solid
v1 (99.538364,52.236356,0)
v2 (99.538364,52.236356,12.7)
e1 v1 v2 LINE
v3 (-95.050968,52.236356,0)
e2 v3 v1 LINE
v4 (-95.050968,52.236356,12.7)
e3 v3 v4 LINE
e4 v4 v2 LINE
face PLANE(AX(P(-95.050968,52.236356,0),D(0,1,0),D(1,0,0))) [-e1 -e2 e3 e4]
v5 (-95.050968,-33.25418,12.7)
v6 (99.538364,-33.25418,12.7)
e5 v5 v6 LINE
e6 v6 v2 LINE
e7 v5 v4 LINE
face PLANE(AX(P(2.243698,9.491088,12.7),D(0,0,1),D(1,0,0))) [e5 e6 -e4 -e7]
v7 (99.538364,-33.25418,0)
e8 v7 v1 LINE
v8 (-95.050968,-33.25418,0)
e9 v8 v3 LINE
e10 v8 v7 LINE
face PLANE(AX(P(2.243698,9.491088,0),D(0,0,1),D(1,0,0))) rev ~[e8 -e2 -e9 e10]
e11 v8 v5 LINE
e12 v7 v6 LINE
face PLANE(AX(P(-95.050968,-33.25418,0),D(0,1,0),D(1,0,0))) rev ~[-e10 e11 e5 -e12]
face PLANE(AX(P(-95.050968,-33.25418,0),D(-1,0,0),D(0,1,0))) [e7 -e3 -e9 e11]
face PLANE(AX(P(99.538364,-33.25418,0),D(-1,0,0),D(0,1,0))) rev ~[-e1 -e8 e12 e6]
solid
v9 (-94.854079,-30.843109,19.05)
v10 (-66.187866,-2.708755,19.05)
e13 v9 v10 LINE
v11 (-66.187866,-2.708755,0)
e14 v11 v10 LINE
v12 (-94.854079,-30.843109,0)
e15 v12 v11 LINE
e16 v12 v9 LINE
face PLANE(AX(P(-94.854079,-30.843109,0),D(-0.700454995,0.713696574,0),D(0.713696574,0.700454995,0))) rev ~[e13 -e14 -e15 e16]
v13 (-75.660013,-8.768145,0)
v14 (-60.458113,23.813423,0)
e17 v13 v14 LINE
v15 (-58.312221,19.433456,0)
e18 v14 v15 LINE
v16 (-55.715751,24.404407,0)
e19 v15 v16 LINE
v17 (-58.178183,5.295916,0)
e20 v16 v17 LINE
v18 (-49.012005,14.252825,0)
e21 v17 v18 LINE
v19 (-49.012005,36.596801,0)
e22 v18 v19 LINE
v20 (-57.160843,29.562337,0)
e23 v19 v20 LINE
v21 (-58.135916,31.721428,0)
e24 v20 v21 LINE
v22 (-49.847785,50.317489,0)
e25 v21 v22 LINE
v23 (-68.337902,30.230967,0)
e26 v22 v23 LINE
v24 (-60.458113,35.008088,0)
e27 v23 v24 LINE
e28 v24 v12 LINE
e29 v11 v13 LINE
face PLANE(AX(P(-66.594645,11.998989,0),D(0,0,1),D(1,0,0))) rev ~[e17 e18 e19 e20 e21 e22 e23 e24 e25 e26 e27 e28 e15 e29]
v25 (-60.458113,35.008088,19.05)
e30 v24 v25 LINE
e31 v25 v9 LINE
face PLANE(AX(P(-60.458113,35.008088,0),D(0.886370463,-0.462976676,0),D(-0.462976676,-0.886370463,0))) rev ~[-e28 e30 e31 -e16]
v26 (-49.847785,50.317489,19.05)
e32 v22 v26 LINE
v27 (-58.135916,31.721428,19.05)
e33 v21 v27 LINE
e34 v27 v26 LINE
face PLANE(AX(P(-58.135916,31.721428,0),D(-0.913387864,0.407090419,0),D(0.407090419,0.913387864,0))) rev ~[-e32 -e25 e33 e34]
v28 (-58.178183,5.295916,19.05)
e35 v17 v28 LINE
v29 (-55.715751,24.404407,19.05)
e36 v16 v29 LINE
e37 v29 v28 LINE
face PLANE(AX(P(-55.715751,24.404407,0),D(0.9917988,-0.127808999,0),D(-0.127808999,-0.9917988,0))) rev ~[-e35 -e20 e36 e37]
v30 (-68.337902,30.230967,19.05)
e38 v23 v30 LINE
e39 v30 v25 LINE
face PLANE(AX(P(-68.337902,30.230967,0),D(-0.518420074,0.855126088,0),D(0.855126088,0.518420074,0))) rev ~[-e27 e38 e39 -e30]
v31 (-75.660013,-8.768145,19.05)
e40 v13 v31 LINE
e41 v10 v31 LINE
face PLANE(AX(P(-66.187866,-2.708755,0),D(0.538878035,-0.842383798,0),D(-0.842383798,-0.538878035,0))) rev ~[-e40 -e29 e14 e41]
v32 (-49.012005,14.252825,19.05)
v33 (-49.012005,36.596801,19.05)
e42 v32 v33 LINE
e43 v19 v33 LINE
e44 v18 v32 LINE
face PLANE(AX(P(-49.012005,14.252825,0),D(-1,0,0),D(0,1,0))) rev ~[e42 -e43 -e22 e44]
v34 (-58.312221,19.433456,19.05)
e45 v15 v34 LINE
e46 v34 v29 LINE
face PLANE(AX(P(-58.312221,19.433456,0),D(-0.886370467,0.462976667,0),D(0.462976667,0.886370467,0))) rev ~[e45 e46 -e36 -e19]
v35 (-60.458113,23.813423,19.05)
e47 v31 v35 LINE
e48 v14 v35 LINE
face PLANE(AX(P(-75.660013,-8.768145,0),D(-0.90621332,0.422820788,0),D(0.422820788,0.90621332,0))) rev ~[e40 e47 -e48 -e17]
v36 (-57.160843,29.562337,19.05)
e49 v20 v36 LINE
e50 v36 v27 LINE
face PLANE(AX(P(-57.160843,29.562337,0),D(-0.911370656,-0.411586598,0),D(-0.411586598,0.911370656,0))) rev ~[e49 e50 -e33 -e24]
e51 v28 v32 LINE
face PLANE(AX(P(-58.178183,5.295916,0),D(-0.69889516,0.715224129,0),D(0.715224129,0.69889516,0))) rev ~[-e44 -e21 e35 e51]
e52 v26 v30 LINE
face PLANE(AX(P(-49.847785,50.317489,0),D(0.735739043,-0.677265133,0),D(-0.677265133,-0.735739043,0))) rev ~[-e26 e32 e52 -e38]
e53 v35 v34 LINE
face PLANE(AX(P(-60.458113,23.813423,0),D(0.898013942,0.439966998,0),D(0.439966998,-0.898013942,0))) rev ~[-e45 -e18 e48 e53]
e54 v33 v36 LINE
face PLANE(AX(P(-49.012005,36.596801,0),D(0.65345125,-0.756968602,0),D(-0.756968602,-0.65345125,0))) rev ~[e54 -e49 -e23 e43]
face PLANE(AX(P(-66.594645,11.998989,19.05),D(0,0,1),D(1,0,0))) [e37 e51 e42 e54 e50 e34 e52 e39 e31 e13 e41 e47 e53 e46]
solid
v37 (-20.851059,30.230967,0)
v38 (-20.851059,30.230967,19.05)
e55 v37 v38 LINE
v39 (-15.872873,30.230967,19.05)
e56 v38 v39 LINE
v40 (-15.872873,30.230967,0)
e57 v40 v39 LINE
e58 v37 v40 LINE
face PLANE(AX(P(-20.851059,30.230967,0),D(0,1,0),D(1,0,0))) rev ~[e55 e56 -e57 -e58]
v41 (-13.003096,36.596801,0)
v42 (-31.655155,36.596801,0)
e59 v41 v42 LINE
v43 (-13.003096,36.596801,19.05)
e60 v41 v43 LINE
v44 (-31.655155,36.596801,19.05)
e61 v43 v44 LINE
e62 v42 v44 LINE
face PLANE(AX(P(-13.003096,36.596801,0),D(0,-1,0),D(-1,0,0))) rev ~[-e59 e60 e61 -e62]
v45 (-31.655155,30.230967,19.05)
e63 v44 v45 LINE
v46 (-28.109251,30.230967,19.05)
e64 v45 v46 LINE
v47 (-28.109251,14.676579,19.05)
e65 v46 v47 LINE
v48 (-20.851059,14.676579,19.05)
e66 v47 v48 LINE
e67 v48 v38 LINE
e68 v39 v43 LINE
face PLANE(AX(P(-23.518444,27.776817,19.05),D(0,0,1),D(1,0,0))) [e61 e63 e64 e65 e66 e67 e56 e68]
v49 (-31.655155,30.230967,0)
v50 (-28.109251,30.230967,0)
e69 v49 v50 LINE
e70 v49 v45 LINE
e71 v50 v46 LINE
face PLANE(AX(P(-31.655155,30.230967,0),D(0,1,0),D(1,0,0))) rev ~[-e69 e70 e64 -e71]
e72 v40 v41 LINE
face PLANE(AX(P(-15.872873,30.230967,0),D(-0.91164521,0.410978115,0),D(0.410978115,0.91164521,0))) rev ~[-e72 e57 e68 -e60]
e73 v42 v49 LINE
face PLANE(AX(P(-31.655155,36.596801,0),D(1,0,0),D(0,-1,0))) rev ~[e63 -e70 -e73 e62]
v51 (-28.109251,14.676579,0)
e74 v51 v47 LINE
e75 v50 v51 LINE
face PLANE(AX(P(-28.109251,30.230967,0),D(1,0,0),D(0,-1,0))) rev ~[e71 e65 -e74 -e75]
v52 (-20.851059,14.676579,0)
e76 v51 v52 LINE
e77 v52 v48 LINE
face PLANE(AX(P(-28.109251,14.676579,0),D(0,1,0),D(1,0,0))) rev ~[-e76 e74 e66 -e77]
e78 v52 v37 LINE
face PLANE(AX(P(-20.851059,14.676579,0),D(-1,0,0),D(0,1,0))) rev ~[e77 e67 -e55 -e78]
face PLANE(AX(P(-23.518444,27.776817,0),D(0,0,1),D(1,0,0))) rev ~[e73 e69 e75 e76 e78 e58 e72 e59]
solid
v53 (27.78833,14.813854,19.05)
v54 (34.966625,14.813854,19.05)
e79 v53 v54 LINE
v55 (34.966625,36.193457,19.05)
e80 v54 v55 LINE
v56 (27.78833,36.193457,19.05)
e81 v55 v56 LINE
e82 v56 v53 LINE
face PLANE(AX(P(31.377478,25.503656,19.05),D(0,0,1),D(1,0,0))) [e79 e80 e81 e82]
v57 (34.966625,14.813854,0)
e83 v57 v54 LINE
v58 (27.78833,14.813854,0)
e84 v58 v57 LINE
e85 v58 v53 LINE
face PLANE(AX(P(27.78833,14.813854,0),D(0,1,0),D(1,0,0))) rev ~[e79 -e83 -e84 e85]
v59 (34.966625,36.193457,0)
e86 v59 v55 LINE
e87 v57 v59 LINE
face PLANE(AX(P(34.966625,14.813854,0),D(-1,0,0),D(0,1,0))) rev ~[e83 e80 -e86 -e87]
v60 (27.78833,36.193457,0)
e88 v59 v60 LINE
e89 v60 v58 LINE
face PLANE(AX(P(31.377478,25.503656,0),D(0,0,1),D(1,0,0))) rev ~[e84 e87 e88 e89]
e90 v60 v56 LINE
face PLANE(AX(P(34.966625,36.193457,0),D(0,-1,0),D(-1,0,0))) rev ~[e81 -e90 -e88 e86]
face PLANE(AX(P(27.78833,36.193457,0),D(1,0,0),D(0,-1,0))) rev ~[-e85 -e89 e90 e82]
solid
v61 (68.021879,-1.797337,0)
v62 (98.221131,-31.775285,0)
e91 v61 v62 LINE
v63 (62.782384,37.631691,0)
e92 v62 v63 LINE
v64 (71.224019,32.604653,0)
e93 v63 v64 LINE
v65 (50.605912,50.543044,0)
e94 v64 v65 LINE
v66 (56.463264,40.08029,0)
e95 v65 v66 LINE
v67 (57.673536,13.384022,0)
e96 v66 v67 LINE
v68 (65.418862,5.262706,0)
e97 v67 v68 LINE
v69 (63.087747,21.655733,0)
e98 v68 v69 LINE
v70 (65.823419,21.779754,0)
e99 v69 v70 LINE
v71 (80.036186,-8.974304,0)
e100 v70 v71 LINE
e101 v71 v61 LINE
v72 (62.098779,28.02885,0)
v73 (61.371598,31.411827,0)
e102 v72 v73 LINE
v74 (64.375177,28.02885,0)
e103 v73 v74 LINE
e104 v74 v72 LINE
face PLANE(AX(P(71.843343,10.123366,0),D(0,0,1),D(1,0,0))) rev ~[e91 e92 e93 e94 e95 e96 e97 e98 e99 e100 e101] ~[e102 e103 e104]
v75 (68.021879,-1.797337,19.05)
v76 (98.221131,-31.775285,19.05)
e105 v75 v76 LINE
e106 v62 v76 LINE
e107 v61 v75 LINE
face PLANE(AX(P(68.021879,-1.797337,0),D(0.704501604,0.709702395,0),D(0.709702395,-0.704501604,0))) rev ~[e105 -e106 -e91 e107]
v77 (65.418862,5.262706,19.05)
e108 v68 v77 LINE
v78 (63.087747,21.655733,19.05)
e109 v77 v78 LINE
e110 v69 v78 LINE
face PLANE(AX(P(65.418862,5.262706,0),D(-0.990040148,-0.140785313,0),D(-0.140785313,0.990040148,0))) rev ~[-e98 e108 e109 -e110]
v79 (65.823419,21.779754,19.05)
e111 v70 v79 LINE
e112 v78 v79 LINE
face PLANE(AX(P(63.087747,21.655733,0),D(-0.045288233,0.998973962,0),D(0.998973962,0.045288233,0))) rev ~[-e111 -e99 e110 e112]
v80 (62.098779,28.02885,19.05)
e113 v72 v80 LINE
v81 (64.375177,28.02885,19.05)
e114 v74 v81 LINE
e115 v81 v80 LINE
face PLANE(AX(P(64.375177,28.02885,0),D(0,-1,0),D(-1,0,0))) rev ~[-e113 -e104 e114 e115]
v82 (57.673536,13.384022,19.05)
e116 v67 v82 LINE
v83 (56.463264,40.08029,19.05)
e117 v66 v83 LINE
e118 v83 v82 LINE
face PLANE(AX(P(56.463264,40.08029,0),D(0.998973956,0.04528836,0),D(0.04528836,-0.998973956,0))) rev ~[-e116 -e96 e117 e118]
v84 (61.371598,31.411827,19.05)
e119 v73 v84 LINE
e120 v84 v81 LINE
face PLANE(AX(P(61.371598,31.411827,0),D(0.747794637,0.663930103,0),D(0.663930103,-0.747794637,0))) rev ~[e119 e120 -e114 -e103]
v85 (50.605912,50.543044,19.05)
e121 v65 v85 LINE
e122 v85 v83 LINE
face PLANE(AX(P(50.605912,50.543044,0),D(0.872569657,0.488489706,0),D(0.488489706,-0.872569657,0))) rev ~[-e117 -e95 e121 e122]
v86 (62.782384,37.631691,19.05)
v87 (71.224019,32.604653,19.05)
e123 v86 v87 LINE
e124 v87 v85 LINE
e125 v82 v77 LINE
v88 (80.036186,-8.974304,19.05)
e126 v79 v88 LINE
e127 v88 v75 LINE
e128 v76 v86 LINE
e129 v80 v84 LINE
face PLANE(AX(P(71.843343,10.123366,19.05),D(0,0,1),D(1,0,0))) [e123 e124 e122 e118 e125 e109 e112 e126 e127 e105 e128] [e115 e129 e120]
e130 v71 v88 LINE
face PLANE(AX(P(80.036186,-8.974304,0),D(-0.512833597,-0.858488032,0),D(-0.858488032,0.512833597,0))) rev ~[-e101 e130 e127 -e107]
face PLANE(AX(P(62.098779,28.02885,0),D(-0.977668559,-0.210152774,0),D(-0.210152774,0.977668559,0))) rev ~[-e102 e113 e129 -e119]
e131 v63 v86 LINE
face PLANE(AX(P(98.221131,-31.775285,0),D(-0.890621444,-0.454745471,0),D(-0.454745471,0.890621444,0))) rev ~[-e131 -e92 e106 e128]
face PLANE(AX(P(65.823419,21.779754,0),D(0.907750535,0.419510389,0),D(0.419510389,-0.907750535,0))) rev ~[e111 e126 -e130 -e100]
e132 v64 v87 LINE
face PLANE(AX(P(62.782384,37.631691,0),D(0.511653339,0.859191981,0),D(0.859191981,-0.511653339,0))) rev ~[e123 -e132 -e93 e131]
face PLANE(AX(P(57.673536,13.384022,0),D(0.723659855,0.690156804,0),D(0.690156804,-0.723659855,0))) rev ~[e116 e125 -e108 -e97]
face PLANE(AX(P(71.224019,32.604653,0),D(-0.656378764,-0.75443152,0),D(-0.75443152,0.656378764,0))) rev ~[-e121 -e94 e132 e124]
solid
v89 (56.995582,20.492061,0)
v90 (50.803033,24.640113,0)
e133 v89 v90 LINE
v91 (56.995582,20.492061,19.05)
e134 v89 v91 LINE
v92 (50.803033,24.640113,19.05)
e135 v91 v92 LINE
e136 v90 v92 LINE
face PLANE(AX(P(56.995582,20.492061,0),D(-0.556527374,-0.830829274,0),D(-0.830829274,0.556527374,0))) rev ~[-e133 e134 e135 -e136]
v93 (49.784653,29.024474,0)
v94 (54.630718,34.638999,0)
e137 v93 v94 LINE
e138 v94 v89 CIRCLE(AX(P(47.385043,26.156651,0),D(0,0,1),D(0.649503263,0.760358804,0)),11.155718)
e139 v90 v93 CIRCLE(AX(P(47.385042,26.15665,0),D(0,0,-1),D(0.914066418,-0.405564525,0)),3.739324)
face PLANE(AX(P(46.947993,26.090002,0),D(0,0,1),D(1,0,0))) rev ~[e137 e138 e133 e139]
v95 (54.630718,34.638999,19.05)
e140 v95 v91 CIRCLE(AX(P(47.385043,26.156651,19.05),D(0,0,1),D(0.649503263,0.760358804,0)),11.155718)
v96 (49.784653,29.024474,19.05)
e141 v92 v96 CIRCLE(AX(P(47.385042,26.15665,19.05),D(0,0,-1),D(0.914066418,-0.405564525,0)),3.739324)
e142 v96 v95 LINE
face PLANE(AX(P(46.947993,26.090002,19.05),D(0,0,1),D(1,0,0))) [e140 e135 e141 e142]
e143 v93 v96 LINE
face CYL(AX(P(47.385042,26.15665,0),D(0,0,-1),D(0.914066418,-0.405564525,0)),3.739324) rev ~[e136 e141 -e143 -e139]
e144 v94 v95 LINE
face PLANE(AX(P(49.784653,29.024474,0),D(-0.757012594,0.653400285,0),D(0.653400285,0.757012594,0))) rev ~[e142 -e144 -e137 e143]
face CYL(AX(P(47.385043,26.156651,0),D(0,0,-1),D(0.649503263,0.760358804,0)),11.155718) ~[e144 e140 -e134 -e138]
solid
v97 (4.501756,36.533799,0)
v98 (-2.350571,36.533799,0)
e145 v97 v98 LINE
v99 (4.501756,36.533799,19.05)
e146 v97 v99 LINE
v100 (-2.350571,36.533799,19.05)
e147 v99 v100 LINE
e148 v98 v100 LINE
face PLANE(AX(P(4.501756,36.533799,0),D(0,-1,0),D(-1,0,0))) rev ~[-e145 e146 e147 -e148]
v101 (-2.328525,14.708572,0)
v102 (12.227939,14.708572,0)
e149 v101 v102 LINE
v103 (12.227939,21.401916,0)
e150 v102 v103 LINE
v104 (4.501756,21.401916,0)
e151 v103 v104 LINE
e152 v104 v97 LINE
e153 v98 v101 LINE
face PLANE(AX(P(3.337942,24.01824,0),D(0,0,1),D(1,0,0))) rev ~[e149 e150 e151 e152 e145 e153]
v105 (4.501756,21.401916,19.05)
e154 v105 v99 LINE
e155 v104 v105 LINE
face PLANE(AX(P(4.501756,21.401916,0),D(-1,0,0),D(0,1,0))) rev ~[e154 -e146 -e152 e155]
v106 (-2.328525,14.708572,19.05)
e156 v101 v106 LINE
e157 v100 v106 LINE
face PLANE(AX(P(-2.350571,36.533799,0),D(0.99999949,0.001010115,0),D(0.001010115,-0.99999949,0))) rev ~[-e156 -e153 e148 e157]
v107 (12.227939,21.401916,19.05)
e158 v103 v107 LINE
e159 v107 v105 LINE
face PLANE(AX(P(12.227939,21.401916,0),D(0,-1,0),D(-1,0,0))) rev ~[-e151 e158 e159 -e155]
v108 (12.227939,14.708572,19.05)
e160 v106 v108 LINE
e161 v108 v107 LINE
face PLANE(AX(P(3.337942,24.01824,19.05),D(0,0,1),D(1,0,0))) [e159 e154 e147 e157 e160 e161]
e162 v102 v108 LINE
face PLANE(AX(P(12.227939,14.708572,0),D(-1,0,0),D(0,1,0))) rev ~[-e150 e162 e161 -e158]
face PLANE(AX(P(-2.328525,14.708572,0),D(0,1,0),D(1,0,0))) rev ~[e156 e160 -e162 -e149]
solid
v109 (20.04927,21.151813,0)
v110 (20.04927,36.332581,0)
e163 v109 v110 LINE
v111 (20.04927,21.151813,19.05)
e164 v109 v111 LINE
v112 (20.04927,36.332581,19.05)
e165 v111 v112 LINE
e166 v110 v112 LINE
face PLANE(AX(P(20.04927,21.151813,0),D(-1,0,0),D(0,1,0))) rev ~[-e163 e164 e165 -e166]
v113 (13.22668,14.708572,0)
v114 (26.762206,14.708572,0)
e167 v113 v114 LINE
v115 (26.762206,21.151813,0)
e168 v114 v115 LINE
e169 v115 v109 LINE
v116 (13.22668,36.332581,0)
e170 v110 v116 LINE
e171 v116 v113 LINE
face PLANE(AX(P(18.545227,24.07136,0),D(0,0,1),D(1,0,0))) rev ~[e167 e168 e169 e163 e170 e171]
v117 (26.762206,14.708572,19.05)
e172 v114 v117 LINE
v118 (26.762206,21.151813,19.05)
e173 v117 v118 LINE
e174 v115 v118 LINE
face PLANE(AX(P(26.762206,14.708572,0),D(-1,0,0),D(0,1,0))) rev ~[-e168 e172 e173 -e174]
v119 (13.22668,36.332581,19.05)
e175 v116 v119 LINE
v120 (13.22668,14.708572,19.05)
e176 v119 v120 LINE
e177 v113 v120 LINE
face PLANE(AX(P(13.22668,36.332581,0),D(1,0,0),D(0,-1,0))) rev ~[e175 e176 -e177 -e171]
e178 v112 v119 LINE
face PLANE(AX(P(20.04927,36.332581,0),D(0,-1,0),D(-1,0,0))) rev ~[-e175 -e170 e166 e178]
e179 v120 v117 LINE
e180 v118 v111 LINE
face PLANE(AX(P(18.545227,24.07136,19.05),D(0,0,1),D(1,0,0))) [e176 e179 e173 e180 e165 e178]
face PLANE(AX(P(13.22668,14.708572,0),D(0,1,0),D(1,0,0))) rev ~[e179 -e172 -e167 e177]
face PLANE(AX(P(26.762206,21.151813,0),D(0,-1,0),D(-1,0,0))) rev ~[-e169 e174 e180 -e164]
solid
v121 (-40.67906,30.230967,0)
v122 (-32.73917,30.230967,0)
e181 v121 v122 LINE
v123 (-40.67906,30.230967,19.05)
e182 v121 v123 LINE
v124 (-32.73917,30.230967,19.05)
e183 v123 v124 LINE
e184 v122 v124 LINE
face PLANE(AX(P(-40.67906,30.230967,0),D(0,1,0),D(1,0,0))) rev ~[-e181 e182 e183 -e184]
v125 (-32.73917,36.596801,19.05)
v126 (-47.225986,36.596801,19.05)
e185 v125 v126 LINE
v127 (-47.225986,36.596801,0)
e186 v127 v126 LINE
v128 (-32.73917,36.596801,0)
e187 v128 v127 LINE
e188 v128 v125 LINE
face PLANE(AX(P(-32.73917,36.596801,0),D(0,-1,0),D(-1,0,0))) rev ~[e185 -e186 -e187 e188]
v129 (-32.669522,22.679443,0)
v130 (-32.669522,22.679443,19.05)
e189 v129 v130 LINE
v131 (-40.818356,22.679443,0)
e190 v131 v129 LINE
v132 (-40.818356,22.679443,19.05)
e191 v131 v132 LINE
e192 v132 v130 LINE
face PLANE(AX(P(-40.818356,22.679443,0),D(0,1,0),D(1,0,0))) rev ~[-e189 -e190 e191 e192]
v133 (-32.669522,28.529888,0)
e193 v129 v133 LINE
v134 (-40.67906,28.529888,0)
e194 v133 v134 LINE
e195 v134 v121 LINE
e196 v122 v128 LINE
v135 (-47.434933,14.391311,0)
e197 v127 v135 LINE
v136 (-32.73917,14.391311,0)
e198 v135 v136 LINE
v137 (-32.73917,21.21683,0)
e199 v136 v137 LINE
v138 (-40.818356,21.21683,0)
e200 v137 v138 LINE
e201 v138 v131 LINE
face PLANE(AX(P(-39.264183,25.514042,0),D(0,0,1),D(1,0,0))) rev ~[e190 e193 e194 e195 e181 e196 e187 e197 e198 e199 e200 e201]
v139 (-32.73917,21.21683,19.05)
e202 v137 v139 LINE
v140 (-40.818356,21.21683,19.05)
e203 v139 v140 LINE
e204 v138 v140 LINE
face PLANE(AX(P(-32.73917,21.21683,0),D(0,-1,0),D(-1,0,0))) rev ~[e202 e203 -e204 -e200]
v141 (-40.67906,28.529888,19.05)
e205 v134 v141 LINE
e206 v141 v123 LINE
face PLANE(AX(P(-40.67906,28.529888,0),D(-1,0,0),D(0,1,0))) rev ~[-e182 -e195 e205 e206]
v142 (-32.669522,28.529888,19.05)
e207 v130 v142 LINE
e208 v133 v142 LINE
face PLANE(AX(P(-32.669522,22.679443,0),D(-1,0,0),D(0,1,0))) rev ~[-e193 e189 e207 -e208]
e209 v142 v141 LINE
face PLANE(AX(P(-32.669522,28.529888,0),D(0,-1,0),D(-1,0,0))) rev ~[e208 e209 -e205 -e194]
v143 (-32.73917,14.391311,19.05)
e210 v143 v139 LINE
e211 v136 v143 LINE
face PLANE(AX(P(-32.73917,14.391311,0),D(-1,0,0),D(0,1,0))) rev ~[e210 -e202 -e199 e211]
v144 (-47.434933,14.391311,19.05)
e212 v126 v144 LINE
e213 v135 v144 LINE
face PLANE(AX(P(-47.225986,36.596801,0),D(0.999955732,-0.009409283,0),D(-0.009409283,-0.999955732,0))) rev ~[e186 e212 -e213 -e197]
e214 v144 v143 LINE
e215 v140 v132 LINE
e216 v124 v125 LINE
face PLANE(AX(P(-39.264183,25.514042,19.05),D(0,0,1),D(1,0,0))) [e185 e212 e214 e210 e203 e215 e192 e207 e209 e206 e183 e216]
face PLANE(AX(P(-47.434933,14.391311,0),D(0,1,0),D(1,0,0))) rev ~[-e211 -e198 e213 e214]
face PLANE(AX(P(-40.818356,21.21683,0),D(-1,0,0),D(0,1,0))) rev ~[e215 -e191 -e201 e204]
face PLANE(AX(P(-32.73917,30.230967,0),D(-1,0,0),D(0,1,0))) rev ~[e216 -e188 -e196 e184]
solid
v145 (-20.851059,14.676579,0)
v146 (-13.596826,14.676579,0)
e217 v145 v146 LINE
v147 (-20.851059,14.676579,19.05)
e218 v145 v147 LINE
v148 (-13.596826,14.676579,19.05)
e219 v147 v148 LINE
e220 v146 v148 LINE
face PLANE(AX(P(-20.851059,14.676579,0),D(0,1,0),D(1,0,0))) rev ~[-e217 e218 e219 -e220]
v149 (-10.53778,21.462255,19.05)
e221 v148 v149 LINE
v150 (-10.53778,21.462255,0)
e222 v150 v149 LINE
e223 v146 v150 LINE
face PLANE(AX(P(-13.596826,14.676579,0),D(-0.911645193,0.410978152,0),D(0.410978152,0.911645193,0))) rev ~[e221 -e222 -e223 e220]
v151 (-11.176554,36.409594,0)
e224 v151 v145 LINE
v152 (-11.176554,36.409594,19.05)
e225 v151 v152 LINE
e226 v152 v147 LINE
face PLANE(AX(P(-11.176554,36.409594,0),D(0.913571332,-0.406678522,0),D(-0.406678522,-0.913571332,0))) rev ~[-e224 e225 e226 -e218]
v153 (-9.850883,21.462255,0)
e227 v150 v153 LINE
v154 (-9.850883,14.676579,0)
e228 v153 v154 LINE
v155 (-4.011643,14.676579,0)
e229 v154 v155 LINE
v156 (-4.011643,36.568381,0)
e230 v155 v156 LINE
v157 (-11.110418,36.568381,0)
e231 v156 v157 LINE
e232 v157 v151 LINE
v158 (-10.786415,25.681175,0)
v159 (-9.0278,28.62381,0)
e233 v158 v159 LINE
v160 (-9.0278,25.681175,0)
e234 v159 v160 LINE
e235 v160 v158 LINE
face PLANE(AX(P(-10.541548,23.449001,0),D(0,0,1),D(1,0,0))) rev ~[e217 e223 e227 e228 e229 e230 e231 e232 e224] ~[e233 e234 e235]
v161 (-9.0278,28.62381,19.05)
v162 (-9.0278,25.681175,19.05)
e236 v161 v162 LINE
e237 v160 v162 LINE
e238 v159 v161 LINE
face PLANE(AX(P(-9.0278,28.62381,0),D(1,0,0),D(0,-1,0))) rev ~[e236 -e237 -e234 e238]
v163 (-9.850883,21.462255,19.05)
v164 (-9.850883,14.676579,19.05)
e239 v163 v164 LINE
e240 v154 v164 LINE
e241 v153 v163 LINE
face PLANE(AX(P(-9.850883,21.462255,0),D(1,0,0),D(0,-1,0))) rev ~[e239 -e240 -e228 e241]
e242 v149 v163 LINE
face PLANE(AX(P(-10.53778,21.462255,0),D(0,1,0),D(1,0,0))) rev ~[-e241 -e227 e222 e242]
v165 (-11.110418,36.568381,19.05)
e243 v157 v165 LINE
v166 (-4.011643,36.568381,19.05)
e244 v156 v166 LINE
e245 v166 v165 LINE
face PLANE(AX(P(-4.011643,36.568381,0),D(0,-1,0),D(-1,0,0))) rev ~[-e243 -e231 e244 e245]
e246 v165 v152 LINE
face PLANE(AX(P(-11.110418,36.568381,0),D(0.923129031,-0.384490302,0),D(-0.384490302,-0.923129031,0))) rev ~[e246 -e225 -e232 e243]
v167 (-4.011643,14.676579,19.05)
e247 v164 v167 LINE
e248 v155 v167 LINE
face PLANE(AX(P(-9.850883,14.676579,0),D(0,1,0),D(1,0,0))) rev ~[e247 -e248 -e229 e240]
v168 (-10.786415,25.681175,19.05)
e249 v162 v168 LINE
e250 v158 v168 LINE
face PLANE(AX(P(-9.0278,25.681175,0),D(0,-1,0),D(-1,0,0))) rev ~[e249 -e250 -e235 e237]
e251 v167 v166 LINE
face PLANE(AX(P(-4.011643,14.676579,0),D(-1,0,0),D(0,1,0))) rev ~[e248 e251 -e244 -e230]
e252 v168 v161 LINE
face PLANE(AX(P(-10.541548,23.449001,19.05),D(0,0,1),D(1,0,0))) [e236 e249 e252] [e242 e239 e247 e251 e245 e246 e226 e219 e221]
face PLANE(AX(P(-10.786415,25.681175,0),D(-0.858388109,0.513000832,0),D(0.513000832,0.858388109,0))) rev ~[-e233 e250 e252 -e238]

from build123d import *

# Parameters (mm, degrees)
F2_DEPTH = 19.05
F1_W     = 194.589332
F1_H     = 85.490536
F3_DEPTH = 12.7


with BuildPart() as f2:
    # F0 (on Top) → F2 (new body)
    with BuildSketch(Plane.XY):
        Polygon((-60.458113, 35.008088), (-94.854079, -30.843109), (-66.187866, -2.708755), (-75.660013, -8.768145), (-60.458113, 23.813423), (-58.312221, 19.433456), (-55.715751, 24.404407), (-58.178183, 5.295916), (-49.012005, 14.252825), (-49.012005, 36.596801), (-57.160843, 29.562337), (-58.135916, 31.721428), (-49.847785, 50.317489), (-68.337902, 30.230967), align=None)
        Polygon((-32.73917, 36.596801), (-47.225986, 36.596801), (-47.434933, 14.391311), (-32.73917, 14.391311), (-32.73917, 21.21683), (-40.818356, 21.21683), (-40.818356, 22.679443), (-32.669522, 22.679443), (-32.669522, 28.529888), (-40.67906, 28.529888), (-40.67906, 30.230967), (-32.73917, 30.230967), align=None)
        Polygon((-11.176554, 36.409594), (-20.851059, 14.676579), (-13.596826, 14.676579), (-10.53778, 21.462255), (-9.850883, 21.462255), (-9.850883, 14.676579), (-4.011643, 14.676579), (-4.011643, 36.568381), (-11.110418, 36.568381), align=None)
        Polygon((-9.0278, 25.681175), (-10.786415, 25.681175), (-9.0278, 28.62381), align=None, mode=Mode.SUBTRACT)
        Polygon((-13.003096, 36.596801), (-31.655155, 36.596801), (-31.655155, 30.230967), (-28.109251, 30.230967), (-28.109251, 14.676579), (-20.851059, 14.676579), (-20.851059, 30.230967), (-15.872873, 30.230967), align=None)
        Polygon((4.501756, 36.533799), (-2.350571, 36.533799), (-2.328525, 14.708572), (12.227939, 14.708572), (12.227939, 21.401916), (4.501756, 21.401916), align=None)
        Polygon((20.04927, 36.332581), (13.22668, 36.332581), (13.22668, 14.708572), (26.762206, 14.708572), (26.762206, 21.151813), (20.04927, 21.151813), align=None)
        Polygon((34.966625, 36.193457), (27.917653, 36.193457), (27.78833, 36.193457), (27.78833, 14.813854), (34.966625, 14.813854), align=None)
        with BuildLine():
            Line((49.784653, 29.024474), (54.630718, 34.638999))
            ThreePointArc((54.630718, 34.638999), (36.382, 24.317334), (56.995582, 20.492061))
            Line((56.995582, 20.492061), (50.803033, 24.640113))
            ThreePointArc((50.803033, 24.640113), (43.742684, 25.310619), (49.784653, 29.024474))
        make_face()
        Polygon((71.224019, 32.604653), (50.605912, 50.543044), (56.463264, 40.08029), (57.673536, 13.384022), (65.418862, 5.262706), (63.087747, 21.655733), (65.823419, 21.779754), (80.036186, -8.974304), (68.021879, -1.797337), (98.221131, -31.775285), (62.782384, 37.631691), align=None)
        Polygon((64.375177, 28.02885), (62.098779, 28.02885), (61.371598, 31.411827), align=None, mode=Mode.SUBTRACT)
    extrude(amount=F2_DEPTH)


with BuildPart() as f3:
    # F1 (on Top) → F3 (new body)
    with BuildSketch(Plane.XY):
        with Locations((2.243698, 9.491088)):
            Rectangle(F1_W, F1_H)
    extrude(amount=F3_DEPTH)


solid = Compound([f2.part, f3.part])
